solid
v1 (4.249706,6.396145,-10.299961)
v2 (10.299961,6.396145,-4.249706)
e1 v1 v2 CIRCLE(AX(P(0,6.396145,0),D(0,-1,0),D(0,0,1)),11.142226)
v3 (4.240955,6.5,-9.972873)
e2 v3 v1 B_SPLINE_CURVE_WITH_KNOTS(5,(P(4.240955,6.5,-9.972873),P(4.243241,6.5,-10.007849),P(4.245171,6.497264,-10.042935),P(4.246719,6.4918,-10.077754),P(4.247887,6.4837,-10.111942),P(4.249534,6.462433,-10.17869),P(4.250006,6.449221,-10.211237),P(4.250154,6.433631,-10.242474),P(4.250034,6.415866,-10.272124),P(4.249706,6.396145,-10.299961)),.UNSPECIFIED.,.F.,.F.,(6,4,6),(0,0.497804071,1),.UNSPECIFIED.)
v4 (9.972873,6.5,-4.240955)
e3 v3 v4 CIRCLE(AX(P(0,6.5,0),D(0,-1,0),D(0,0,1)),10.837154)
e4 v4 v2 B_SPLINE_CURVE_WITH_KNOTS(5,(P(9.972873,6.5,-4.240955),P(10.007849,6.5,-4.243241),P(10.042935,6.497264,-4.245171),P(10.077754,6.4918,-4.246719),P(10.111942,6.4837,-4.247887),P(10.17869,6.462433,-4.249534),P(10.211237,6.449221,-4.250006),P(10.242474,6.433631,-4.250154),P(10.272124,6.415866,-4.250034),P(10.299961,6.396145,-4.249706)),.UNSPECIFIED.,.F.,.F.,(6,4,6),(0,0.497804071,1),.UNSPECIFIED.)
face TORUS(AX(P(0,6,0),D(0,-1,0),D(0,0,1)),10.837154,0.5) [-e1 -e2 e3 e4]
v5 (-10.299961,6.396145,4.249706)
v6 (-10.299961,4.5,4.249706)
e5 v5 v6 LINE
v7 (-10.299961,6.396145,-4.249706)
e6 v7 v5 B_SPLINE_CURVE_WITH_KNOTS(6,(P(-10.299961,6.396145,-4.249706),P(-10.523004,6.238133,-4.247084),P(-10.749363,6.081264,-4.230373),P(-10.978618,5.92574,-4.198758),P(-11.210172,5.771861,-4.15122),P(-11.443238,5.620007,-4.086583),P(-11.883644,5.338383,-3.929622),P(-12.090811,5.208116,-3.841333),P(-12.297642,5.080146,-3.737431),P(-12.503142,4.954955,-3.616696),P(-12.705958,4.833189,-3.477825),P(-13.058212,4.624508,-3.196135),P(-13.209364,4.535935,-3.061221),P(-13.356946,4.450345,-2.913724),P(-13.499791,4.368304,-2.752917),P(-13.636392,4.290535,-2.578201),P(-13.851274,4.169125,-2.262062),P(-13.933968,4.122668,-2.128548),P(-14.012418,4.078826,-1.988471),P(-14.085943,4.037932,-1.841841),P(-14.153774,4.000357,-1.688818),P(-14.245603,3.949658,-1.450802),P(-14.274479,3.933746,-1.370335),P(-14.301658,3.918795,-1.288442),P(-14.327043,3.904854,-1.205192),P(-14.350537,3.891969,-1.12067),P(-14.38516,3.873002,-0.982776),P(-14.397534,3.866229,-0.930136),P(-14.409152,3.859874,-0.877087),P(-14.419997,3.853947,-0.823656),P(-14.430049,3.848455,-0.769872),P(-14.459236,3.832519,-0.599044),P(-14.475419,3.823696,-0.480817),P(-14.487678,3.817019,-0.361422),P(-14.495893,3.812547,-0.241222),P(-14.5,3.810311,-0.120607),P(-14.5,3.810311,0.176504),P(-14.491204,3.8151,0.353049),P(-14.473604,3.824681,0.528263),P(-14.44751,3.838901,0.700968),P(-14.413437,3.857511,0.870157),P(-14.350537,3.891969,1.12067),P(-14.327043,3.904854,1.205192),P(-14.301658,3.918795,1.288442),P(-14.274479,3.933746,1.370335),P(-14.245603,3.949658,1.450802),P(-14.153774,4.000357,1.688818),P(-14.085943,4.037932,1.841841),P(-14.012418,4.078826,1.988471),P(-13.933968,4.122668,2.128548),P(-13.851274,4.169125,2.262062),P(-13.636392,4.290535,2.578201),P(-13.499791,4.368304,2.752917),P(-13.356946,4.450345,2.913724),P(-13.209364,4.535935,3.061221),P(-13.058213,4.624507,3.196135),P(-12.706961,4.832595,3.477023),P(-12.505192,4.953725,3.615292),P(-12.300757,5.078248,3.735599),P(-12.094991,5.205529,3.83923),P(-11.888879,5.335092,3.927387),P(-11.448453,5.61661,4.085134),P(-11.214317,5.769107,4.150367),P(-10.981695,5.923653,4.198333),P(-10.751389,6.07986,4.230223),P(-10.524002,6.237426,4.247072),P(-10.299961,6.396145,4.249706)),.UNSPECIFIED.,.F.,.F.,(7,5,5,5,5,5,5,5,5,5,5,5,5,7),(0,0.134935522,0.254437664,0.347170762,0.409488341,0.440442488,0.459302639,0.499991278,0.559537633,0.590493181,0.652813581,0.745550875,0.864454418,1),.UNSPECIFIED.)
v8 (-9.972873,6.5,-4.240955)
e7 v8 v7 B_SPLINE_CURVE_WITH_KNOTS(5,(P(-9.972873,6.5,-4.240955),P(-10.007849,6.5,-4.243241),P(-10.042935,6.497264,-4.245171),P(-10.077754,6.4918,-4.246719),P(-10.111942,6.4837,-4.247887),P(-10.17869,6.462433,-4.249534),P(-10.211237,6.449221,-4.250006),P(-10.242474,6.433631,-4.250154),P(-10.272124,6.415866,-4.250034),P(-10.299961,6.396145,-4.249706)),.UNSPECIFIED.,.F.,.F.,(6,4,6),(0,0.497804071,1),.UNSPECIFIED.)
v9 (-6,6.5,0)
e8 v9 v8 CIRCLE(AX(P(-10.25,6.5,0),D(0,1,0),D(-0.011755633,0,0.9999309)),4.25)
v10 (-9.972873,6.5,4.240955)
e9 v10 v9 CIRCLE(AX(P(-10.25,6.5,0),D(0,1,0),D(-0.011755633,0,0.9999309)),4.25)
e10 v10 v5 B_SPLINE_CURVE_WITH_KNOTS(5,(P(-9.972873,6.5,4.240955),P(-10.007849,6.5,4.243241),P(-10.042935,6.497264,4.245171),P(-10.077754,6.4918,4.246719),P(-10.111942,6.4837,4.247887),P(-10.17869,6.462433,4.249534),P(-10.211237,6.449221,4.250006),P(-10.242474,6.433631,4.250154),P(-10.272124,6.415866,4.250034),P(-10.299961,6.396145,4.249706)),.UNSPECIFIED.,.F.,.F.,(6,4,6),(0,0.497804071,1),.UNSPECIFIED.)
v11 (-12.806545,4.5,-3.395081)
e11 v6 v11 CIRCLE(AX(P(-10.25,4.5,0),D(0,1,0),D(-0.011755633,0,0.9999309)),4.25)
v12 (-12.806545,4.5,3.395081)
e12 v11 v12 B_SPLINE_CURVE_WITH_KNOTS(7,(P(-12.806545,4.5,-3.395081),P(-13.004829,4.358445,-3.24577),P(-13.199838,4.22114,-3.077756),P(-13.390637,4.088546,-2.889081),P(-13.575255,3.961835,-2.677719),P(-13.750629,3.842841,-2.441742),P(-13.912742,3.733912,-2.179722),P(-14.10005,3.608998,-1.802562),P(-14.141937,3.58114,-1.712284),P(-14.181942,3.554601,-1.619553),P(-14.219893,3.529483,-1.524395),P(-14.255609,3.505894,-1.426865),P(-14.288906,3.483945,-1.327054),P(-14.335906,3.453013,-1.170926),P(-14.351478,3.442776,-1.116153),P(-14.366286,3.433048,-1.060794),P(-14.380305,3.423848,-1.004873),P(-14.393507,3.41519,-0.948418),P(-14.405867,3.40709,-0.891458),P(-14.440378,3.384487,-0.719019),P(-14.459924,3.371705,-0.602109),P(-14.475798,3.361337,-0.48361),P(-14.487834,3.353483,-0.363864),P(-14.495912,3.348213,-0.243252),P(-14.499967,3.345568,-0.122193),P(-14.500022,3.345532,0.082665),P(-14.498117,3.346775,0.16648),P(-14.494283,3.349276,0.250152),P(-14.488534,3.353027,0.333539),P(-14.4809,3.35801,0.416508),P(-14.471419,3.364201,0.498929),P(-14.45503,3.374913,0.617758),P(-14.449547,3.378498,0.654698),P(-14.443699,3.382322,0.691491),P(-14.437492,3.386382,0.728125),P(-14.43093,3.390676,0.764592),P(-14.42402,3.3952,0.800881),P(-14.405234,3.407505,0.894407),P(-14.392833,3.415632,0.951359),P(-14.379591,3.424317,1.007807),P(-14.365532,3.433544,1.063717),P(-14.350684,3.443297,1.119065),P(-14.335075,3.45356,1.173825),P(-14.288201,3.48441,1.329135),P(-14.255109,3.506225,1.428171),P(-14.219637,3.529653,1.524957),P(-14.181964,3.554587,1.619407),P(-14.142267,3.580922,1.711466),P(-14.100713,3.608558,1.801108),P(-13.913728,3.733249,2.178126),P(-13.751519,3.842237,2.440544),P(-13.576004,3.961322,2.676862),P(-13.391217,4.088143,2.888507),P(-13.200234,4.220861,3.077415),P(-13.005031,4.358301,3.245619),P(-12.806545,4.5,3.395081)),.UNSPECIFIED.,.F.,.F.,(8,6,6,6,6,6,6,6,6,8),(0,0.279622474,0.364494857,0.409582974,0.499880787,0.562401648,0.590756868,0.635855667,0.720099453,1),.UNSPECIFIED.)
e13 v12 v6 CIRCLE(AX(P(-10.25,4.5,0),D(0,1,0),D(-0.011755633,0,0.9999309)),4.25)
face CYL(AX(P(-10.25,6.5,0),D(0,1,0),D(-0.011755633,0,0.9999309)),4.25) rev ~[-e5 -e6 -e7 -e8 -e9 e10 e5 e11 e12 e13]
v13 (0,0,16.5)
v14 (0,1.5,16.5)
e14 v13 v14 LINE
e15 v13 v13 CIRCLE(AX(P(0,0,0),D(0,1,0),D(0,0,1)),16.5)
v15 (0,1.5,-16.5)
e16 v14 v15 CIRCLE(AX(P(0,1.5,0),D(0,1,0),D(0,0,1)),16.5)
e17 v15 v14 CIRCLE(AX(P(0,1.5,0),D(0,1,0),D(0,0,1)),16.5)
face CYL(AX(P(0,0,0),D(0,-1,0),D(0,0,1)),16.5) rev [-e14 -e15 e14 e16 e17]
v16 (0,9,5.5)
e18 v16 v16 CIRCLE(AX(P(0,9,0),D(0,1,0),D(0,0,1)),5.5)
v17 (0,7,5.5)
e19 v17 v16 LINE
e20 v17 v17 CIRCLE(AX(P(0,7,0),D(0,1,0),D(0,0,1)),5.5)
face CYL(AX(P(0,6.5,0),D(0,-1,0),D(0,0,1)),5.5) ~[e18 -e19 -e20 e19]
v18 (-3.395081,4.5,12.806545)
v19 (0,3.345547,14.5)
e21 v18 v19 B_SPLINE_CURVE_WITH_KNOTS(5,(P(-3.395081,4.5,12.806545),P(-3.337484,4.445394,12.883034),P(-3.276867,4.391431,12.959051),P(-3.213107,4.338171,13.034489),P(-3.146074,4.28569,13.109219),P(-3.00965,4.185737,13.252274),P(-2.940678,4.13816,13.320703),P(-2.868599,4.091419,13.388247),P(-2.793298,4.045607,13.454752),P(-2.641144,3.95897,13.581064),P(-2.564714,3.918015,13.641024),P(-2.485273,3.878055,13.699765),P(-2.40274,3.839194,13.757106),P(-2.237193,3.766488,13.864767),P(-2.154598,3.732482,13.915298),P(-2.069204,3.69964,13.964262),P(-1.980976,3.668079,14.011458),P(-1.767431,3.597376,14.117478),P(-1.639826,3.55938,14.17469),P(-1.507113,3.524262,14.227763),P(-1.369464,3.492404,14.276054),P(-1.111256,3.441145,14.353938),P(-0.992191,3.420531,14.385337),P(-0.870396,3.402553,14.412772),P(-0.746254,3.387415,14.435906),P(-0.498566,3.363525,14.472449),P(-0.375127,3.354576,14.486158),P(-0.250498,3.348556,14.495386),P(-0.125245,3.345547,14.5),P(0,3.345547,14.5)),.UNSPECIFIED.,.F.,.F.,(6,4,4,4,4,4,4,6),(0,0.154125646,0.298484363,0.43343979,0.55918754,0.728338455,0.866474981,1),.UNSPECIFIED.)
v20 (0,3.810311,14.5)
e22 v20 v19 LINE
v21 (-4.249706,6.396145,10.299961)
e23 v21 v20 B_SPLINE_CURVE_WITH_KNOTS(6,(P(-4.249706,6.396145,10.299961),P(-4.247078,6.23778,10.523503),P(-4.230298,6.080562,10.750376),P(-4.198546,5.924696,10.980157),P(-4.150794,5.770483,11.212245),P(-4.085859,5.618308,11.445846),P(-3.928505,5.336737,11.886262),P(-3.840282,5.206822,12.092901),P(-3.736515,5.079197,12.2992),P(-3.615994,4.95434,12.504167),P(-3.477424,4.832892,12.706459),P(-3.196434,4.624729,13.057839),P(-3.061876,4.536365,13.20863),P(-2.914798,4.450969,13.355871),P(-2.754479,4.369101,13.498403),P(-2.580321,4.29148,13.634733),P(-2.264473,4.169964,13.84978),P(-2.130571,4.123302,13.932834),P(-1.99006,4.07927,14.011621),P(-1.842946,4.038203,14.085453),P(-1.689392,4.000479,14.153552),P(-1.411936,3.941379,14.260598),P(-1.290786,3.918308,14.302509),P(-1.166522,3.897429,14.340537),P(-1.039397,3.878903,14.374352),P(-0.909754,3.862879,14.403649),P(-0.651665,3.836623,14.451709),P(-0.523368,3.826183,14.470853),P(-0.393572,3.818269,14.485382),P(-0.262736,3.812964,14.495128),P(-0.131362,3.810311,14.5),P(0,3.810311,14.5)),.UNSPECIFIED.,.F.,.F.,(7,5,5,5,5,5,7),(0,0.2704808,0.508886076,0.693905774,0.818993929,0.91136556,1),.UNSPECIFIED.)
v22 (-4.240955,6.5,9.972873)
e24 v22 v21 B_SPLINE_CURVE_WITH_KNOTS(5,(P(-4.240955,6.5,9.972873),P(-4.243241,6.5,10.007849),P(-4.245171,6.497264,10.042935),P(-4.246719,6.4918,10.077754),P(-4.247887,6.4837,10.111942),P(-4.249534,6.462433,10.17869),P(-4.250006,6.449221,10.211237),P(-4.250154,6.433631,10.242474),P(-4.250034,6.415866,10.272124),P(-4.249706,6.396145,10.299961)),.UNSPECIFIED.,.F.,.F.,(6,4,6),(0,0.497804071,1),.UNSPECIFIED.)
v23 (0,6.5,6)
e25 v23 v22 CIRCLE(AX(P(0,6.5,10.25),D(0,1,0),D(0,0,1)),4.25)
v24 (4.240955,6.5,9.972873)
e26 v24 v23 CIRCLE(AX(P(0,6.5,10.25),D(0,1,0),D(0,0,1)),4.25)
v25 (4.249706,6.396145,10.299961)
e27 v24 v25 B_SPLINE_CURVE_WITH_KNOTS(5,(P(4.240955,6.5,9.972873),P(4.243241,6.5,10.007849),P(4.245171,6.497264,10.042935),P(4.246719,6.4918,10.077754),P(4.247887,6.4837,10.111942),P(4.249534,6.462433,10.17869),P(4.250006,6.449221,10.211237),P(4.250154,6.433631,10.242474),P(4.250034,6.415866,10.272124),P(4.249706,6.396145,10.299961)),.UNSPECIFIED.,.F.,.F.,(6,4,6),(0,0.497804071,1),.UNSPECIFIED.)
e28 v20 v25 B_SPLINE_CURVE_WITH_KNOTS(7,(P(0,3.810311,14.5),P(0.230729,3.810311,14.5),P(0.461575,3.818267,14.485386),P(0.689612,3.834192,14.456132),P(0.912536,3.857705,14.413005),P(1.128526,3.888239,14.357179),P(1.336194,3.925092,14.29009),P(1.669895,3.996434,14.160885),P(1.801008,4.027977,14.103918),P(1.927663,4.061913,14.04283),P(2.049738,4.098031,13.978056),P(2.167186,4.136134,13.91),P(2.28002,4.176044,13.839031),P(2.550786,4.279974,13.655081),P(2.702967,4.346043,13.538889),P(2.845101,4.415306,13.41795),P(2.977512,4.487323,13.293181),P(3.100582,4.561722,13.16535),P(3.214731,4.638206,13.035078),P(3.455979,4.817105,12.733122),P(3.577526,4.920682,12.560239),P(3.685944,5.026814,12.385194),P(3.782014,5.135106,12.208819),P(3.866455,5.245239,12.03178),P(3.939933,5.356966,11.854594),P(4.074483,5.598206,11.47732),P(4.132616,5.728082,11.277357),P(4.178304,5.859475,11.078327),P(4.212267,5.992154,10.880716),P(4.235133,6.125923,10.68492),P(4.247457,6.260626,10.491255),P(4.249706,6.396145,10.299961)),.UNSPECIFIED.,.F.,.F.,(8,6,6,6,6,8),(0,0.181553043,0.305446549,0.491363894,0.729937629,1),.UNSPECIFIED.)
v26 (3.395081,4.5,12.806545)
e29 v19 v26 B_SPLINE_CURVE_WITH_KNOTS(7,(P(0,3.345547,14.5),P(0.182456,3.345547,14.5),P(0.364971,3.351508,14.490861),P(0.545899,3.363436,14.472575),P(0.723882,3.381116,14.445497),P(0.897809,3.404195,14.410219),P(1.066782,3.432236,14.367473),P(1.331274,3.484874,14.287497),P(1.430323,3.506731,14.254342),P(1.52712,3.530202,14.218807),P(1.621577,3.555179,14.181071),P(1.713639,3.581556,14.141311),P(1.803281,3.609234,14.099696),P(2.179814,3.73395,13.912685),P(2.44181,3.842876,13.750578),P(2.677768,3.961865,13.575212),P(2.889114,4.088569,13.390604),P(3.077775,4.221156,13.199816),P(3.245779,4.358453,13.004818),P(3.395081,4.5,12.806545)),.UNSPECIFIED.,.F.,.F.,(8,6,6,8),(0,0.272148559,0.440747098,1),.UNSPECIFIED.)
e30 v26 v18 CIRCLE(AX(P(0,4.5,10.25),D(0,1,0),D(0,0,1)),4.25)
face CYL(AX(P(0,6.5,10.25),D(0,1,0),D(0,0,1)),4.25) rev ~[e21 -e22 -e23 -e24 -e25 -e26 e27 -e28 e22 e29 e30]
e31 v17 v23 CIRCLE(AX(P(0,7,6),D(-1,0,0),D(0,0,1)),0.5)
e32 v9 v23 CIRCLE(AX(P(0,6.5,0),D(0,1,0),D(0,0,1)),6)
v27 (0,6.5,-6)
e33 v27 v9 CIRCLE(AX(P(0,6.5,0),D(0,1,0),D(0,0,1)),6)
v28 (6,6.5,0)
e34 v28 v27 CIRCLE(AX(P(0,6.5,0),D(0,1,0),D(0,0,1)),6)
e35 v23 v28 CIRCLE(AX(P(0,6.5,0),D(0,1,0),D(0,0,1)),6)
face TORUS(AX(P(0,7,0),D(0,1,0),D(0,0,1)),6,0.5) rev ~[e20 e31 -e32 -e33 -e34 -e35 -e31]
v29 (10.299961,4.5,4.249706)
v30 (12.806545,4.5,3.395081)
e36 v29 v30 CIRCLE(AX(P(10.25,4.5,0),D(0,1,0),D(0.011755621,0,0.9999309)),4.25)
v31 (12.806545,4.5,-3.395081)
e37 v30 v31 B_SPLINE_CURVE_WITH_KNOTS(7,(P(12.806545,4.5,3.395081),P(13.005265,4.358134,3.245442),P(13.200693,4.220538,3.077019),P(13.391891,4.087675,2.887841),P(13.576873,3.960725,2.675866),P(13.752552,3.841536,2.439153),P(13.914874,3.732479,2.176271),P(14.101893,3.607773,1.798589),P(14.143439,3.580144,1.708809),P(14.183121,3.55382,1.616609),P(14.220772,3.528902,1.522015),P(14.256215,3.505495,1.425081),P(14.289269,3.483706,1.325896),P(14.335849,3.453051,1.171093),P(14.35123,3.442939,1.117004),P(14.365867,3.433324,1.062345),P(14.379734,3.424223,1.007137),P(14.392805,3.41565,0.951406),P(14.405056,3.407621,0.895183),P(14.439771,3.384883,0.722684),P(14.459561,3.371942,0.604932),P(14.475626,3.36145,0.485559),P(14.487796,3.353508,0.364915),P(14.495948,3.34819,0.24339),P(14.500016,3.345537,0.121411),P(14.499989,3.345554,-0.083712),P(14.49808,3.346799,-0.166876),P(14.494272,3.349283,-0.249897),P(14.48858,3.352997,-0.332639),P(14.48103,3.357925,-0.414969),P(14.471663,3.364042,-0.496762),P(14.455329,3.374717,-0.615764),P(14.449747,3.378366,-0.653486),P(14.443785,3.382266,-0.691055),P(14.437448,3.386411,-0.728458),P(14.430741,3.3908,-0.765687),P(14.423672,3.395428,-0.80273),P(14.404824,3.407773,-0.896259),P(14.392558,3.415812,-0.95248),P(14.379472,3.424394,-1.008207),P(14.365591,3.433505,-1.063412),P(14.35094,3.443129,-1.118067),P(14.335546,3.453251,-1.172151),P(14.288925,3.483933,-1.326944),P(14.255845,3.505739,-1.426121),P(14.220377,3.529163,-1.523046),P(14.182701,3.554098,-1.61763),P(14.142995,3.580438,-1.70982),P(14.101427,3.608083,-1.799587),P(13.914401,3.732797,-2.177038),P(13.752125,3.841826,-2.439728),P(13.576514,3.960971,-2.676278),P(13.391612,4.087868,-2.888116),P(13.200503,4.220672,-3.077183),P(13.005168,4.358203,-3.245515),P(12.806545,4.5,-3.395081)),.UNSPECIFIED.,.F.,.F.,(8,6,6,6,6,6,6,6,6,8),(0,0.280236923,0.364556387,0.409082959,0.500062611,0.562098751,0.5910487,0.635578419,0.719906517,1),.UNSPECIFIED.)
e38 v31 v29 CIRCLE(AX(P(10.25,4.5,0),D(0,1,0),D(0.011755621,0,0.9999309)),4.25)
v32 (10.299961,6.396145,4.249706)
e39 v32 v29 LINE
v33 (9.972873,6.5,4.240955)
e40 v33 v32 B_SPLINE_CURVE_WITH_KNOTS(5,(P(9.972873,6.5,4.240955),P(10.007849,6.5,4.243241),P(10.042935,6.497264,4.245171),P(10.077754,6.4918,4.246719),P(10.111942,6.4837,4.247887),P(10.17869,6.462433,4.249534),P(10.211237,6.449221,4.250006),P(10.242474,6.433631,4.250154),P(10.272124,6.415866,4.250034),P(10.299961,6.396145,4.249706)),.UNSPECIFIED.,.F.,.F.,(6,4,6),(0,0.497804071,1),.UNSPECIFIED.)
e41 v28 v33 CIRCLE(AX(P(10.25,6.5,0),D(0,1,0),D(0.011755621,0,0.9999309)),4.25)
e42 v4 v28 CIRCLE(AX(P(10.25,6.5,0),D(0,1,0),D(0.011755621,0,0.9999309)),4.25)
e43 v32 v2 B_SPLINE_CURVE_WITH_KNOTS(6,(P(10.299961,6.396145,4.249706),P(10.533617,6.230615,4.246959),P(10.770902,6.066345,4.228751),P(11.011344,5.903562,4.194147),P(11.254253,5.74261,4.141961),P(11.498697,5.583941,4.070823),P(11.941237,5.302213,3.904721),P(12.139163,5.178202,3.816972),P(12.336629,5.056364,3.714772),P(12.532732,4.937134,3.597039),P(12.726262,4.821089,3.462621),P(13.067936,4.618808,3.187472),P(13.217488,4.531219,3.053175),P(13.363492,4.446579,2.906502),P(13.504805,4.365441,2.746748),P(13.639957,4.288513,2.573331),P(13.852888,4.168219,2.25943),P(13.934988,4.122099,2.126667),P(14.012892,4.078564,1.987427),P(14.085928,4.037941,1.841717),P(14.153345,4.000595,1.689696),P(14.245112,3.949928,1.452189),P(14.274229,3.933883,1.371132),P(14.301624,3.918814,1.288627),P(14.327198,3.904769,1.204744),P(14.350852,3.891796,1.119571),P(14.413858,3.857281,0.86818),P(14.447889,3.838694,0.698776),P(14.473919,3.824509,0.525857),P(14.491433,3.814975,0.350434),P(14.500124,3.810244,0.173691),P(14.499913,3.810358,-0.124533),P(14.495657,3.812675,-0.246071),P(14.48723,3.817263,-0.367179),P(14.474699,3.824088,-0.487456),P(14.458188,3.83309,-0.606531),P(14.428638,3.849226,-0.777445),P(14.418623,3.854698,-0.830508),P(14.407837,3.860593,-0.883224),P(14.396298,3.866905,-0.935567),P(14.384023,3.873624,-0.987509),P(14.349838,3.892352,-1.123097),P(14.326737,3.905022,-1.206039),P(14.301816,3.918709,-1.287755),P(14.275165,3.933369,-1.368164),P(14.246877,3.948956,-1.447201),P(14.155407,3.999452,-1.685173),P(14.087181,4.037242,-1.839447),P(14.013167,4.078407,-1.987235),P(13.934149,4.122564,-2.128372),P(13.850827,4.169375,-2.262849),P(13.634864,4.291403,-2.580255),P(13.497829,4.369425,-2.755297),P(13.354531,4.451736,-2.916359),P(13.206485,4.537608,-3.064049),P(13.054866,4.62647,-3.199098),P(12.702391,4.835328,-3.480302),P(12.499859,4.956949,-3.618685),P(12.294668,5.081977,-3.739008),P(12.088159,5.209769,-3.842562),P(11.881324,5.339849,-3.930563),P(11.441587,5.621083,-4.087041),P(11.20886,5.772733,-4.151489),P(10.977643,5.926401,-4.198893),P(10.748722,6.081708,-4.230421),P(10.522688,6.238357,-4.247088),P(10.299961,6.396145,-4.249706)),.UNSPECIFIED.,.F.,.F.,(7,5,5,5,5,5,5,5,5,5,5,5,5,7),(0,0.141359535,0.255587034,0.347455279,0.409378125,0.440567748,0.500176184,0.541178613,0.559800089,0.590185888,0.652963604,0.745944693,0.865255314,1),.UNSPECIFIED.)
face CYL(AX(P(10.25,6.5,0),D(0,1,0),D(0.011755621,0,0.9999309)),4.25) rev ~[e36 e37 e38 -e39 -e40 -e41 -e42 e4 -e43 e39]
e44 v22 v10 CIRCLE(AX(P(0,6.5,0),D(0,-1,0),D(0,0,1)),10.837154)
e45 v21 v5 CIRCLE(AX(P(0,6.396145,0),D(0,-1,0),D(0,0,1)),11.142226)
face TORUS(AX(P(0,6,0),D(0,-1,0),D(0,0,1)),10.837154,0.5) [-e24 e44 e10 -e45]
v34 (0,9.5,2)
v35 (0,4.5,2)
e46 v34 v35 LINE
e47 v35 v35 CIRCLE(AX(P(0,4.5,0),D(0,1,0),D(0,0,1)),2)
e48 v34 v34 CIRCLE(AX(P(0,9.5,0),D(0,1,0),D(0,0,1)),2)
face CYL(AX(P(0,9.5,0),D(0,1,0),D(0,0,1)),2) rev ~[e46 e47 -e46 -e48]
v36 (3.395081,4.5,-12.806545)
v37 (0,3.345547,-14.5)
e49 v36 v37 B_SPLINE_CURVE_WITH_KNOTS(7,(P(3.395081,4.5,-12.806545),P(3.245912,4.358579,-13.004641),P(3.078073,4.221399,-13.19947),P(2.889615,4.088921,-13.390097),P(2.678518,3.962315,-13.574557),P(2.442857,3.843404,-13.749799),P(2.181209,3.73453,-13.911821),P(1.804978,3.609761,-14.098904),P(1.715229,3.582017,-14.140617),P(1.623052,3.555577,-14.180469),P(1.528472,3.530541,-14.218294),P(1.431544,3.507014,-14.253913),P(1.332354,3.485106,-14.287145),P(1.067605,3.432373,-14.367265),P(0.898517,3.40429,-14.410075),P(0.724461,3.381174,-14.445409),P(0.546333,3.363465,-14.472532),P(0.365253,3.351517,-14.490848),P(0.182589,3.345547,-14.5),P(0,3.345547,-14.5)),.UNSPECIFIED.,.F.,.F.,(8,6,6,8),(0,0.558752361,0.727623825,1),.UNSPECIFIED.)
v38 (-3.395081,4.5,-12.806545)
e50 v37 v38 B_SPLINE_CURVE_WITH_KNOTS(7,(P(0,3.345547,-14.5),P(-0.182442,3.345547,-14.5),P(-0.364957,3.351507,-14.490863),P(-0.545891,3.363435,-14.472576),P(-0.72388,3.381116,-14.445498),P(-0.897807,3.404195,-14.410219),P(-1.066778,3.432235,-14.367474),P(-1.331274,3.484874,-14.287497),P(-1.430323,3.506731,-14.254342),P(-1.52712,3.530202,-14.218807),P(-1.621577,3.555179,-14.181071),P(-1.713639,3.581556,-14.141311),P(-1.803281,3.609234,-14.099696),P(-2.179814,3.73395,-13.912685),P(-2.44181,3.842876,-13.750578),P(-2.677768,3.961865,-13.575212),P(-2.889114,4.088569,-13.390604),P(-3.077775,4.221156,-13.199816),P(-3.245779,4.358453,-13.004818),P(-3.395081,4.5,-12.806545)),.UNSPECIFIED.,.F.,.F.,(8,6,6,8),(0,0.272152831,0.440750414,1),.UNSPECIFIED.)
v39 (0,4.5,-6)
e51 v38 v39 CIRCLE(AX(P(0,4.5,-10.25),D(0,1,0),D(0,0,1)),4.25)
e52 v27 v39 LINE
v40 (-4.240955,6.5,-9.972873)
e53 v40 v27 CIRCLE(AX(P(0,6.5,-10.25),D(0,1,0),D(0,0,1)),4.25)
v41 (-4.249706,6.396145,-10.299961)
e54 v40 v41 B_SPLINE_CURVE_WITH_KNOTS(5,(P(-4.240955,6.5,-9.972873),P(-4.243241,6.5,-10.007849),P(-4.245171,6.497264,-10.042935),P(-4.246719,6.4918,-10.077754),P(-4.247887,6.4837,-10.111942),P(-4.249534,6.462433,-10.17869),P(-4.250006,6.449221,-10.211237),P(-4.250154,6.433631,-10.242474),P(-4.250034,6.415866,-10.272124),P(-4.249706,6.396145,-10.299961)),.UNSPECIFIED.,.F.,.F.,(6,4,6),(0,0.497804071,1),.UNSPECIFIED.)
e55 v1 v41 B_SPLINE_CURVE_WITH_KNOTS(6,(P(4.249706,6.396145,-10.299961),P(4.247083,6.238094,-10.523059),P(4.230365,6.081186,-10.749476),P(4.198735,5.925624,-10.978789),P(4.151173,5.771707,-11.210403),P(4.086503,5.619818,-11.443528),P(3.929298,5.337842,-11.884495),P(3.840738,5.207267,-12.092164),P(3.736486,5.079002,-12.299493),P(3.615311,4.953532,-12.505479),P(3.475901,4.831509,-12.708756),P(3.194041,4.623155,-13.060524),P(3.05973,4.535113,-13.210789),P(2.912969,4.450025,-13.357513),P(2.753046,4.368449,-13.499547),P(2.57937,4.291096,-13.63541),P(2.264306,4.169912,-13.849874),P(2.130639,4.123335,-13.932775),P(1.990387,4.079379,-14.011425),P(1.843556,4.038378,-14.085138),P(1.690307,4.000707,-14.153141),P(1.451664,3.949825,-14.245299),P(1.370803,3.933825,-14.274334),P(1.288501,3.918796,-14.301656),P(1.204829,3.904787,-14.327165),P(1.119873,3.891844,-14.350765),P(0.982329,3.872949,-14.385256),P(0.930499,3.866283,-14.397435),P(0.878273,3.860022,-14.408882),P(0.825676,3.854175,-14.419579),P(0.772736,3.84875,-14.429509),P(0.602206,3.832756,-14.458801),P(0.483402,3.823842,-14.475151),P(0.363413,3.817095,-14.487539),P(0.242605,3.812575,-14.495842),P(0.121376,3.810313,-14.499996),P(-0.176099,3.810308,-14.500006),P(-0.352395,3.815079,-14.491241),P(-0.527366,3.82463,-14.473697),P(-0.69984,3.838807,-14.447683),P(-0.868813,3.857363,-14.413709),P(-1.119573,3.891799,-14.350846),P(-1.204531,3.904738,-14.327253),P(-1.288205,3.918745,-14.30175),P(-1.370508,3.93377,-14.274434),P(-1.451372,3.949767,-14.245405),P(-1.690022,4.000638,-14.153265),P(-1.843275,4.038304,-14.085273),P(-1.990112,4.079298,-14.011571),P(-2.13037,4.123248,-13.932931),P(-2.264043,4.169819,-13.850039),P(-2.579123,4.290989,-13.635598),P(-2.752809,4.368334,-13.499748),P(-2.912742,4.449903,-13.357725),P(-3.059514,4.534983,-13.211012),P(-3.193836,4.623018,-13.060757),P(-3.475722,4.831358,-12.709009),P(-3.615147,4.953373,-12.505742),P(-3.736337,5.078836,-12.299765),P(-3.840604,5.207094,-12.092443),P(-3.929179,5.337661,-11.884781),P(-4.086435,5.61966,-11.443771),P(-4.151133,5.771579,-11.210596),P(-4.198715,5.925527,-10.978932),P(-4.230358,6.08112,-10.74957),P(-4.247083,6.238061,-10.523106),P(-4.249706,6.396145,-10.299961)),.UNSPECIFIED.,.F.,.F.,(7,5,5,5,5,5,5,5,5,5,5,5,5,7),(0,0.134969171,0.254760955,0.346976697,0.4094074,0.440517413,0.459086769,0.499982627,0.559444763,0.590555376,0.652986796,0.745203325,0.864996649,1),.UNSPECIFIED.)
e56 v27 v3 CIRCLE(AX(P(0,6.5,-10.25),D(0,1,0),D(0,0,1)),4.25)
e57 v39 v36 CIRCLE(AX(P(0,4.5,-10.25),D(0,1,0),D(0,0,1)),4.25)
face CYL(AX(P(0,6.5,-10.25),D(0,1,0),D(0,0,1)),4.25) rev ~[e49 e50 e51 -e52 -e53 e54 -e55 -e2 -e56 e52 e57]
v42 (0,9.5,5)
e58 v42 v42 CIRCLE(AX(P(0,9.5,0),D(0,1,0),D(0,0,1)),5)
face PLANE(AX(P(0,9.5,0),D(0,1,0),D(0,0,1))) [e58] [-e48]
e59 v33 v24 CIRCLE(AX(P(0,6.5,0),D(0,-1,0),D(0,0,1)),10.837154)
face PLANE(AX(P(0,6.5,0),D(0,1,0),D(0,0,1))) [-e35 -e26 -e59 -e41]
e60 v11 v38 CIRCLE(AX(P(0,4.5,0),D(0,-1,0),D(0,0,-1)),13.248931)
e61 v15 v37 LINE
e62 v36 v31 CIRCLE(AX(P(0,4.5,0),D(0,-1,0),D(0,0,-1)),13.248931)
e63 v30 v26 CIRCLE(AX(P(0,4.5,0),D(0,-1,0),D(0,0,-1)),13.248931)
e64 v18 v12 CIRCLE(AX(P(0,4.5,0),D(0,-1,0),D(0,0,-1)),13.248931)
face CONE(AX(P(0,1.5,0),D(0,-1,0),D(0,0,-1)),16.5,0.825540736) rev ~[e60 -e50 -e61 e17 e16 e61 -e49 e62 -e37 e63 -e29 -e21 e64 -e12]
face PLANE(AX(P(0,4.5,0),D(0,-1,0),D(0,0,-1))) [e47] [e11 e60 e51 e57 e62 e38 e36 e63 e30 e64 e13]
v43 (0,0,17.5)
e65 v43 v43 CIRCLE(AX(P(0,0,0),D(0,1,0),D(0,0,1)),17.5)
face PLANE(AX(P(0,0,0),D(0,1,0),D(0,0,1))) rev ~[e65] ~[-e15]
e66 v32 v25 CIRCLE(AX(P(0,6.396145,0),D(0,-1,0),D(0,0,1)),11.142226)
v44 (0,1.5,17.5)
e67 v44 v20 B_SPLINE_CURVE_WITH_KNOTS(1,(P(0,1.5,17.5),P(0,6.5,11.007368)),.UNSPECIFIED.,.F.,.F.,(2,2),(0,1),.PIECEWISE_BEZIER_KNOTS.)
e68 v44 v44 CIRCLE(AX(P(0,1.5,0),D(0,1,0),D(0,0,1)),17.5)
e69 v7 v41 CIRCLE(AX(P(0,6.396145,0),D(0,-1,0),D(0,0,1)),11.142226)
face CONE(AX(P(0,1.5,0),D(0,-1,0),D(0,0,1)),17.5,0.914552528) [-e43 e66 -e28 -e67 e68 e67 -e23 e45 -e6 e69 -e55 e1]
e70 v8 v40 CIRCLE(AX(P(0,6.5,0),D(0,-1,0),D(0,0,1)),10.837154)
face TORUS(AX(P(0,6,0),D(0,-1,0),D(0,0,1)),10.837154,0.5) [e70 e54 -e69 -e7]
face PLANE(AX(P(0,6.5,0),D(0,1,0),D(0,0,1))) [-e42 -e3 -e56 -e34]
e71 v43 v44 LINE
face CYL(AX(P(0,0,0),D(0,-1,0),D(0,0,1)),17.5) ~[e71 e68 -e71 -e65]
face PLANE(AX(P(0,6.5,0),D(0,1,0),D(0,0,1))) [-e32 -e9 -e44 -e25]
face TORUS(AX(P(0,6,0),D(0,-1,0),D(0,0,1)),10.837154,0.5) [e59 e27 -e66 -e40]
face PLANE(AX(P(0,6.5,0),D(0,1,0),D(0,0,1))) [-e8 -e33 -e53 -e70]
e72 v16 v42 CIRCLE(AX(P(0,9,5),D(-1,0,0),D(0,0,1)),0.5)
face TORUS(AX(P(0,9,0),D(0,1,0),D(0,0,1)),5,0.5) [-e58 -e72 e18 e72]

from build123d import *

# Parameters (mm, degrees)
SKETCH1_R           = 17.5
SKETCH1_R_2         = 16.5
BOSS_EXTRUDE1_DEPTH = 1.5
SKETCH2_R           = 17.5
BOSS_EXTRUDE2_DEPTH = 5
BOSS_EXTRUDE2_TAPER = 52.4
SKETCH4_R           = 16.5
CUT_EXTRUDE1_DEPTH  = 3
CUT_EXTRUDE1_DRAFT  = -47.3
SKETCH5_R           = 5.5
BOSS_EXTRUDE3_DEPTH = 3
FILLET1_R           = 0.5
SKETCH6_R           = 2
CUT_EXTRUDE2_DEPTH  = 27.509432416
FILLET2_R           = 0.5
FILLET3_R           = 0.5
SKETCH7_R           = 4.25
CUT_EXTRUDE3_DEPTH  = 26.588083301


with BuildPart() as part:
    # Sketch1 → Boss-Extrude1 (new body)
    with BuildSketch(Plane(origin=(0, 0, 0), x_dir=(1, 0, 0), z_dir=(0, 1, 0))):
        with Locations(Location((0, 0, 0), (0, 0, 270))):
            Circle(SKETCH1_R)
        with Locations(Location((0, 0, 0), (0, 0, 270))):
            Circle(SKETCH1_R_2, mode=Mode.SUBTRACT)
    extrude(amount=BOSS_EXTRUDE1_DEPTH)

    # Sketch2 → Boss-Extrude2 (add)
    with BuildSketch(Plane(origin=(0, 1.5, 0), x_dir=(1, 0, 0), z_dir=(0, 1, 0))):
        with Locations(Location((0, 0, 0), (0, 0, 270))):
            Circle(SKETCH2_R)
    extrude(amount=BOSS_EXTRUDE2_DEPTH, taper=BOSS_EXTRUDE2_TAPER)


with BuildPart() as cut_extrude1_tool:
    # Sketch4 → Cut-Extrude1 (with draft: the straight prism first)
    with BuildSketch(Plane.XZ.offset(-1.5)):
        with Locations(Location((0, 0, 0), (0, 0, 270))):
            Circle(SKETCH4_R)
    extrude(amount=-CUT_EXTRUDE1_DEPTH)
    # Cut-Extrude1: the draft: its side faces are tilted about the plane it starts from
    cut_extrude1_sides = [cut_extrude1_tool.faces().sort_by_distance(p)[0] for p in [
        (0, 3, 16.5),
    ]]
    draft(cut_extrude1_sides, Plane.XZ.offset(-1.5), CUT_EXTRUDE1_DRAFT)


with BuildPart() as part_1:
    add(part.part)

    # Cut-Extrude1: cut by cut_extrude1_tool
    add(cut_extrude1_tool.part, mode=Mode.SUBTRACT)

    # Sketch5 → Boss-Extrude3 (add)
    with BuildSketch(Plane(origin=(0, 6.5, 0), x_dir=(1, 0, 0), z_dir=(0, 1, 0))):
        with Locations(Location((0, 0, 0), (0, 0, 270))):
            Circle(SKETCH5_R)
    extrude(amount=BOSS_EXTRUDE3_DEPTH)

    # Fillet1
    fillet1_edges = [part_1.edges().sort_by_distance(p)[0] for p in [
        (0, 9.5, -5.5),
    ]]
    fillet(fillet1_edges, radius=FILLET1_R)

    # Sketch6 → Cut-Extrude2 (cut, through all)
    with BuildSketch(Plane(origin=(0, 9.5, 0), x_dir=(1, 0, 0), z_dir=(0, 1, 0))):
        with Locations(Location((0, 0, 0), (0, 0, 270))):
            Circle(SKETCH6_R)
    extrude(amount=-CUT_EXTRUDE2_DEPTH, mode=Mode.SUBTRACT)

    # Fillet2
    fillet2_edges = [part_1.edges().sort_by_distance(p)[0] for p in [
        (0, 6.5, -5.5),
    ]]
    fillet(fillet2_edges, radius=FILLET2_R)

    # Fillet3
    fillet3_edges = [part_1.edges().sort_by_distance(p)[0] for p in [
        (0, 6.5, -11.007367671),
    ]]
    fillet(fillet3_edges, radius=FILLET3_R)

    # Sketch7 → Cut-Extrude3 (cut, through all)
    with BuildSketch(Plane(origin=(0, 6.5, 0), x_dir=(1, 0, 0), z_dir=(0, 1, 0))):
        with Locations(Location((0, 10.25, 0), (0, 0, 270))):
            Circle(SKETCH7_R)
        with Locations(Location((10.25, 0, 0), (0, 0, 270.673562962))):
            Circle(SKETCH7_R)
        with Locations(Location((0, -10.25, 0), (0, 0, 269.99999999))):
            Circle(SKETCH7_R)
        with Locations(Location((-10.25, 0, 0), (0, 0, 269.326436338))):
            Circle(SKETCH7_R)
    extrude(amount=-CUT_EXTRUDE3_DEPTH, mode=Mode.SUBTRACT)


solid = part_1.part
